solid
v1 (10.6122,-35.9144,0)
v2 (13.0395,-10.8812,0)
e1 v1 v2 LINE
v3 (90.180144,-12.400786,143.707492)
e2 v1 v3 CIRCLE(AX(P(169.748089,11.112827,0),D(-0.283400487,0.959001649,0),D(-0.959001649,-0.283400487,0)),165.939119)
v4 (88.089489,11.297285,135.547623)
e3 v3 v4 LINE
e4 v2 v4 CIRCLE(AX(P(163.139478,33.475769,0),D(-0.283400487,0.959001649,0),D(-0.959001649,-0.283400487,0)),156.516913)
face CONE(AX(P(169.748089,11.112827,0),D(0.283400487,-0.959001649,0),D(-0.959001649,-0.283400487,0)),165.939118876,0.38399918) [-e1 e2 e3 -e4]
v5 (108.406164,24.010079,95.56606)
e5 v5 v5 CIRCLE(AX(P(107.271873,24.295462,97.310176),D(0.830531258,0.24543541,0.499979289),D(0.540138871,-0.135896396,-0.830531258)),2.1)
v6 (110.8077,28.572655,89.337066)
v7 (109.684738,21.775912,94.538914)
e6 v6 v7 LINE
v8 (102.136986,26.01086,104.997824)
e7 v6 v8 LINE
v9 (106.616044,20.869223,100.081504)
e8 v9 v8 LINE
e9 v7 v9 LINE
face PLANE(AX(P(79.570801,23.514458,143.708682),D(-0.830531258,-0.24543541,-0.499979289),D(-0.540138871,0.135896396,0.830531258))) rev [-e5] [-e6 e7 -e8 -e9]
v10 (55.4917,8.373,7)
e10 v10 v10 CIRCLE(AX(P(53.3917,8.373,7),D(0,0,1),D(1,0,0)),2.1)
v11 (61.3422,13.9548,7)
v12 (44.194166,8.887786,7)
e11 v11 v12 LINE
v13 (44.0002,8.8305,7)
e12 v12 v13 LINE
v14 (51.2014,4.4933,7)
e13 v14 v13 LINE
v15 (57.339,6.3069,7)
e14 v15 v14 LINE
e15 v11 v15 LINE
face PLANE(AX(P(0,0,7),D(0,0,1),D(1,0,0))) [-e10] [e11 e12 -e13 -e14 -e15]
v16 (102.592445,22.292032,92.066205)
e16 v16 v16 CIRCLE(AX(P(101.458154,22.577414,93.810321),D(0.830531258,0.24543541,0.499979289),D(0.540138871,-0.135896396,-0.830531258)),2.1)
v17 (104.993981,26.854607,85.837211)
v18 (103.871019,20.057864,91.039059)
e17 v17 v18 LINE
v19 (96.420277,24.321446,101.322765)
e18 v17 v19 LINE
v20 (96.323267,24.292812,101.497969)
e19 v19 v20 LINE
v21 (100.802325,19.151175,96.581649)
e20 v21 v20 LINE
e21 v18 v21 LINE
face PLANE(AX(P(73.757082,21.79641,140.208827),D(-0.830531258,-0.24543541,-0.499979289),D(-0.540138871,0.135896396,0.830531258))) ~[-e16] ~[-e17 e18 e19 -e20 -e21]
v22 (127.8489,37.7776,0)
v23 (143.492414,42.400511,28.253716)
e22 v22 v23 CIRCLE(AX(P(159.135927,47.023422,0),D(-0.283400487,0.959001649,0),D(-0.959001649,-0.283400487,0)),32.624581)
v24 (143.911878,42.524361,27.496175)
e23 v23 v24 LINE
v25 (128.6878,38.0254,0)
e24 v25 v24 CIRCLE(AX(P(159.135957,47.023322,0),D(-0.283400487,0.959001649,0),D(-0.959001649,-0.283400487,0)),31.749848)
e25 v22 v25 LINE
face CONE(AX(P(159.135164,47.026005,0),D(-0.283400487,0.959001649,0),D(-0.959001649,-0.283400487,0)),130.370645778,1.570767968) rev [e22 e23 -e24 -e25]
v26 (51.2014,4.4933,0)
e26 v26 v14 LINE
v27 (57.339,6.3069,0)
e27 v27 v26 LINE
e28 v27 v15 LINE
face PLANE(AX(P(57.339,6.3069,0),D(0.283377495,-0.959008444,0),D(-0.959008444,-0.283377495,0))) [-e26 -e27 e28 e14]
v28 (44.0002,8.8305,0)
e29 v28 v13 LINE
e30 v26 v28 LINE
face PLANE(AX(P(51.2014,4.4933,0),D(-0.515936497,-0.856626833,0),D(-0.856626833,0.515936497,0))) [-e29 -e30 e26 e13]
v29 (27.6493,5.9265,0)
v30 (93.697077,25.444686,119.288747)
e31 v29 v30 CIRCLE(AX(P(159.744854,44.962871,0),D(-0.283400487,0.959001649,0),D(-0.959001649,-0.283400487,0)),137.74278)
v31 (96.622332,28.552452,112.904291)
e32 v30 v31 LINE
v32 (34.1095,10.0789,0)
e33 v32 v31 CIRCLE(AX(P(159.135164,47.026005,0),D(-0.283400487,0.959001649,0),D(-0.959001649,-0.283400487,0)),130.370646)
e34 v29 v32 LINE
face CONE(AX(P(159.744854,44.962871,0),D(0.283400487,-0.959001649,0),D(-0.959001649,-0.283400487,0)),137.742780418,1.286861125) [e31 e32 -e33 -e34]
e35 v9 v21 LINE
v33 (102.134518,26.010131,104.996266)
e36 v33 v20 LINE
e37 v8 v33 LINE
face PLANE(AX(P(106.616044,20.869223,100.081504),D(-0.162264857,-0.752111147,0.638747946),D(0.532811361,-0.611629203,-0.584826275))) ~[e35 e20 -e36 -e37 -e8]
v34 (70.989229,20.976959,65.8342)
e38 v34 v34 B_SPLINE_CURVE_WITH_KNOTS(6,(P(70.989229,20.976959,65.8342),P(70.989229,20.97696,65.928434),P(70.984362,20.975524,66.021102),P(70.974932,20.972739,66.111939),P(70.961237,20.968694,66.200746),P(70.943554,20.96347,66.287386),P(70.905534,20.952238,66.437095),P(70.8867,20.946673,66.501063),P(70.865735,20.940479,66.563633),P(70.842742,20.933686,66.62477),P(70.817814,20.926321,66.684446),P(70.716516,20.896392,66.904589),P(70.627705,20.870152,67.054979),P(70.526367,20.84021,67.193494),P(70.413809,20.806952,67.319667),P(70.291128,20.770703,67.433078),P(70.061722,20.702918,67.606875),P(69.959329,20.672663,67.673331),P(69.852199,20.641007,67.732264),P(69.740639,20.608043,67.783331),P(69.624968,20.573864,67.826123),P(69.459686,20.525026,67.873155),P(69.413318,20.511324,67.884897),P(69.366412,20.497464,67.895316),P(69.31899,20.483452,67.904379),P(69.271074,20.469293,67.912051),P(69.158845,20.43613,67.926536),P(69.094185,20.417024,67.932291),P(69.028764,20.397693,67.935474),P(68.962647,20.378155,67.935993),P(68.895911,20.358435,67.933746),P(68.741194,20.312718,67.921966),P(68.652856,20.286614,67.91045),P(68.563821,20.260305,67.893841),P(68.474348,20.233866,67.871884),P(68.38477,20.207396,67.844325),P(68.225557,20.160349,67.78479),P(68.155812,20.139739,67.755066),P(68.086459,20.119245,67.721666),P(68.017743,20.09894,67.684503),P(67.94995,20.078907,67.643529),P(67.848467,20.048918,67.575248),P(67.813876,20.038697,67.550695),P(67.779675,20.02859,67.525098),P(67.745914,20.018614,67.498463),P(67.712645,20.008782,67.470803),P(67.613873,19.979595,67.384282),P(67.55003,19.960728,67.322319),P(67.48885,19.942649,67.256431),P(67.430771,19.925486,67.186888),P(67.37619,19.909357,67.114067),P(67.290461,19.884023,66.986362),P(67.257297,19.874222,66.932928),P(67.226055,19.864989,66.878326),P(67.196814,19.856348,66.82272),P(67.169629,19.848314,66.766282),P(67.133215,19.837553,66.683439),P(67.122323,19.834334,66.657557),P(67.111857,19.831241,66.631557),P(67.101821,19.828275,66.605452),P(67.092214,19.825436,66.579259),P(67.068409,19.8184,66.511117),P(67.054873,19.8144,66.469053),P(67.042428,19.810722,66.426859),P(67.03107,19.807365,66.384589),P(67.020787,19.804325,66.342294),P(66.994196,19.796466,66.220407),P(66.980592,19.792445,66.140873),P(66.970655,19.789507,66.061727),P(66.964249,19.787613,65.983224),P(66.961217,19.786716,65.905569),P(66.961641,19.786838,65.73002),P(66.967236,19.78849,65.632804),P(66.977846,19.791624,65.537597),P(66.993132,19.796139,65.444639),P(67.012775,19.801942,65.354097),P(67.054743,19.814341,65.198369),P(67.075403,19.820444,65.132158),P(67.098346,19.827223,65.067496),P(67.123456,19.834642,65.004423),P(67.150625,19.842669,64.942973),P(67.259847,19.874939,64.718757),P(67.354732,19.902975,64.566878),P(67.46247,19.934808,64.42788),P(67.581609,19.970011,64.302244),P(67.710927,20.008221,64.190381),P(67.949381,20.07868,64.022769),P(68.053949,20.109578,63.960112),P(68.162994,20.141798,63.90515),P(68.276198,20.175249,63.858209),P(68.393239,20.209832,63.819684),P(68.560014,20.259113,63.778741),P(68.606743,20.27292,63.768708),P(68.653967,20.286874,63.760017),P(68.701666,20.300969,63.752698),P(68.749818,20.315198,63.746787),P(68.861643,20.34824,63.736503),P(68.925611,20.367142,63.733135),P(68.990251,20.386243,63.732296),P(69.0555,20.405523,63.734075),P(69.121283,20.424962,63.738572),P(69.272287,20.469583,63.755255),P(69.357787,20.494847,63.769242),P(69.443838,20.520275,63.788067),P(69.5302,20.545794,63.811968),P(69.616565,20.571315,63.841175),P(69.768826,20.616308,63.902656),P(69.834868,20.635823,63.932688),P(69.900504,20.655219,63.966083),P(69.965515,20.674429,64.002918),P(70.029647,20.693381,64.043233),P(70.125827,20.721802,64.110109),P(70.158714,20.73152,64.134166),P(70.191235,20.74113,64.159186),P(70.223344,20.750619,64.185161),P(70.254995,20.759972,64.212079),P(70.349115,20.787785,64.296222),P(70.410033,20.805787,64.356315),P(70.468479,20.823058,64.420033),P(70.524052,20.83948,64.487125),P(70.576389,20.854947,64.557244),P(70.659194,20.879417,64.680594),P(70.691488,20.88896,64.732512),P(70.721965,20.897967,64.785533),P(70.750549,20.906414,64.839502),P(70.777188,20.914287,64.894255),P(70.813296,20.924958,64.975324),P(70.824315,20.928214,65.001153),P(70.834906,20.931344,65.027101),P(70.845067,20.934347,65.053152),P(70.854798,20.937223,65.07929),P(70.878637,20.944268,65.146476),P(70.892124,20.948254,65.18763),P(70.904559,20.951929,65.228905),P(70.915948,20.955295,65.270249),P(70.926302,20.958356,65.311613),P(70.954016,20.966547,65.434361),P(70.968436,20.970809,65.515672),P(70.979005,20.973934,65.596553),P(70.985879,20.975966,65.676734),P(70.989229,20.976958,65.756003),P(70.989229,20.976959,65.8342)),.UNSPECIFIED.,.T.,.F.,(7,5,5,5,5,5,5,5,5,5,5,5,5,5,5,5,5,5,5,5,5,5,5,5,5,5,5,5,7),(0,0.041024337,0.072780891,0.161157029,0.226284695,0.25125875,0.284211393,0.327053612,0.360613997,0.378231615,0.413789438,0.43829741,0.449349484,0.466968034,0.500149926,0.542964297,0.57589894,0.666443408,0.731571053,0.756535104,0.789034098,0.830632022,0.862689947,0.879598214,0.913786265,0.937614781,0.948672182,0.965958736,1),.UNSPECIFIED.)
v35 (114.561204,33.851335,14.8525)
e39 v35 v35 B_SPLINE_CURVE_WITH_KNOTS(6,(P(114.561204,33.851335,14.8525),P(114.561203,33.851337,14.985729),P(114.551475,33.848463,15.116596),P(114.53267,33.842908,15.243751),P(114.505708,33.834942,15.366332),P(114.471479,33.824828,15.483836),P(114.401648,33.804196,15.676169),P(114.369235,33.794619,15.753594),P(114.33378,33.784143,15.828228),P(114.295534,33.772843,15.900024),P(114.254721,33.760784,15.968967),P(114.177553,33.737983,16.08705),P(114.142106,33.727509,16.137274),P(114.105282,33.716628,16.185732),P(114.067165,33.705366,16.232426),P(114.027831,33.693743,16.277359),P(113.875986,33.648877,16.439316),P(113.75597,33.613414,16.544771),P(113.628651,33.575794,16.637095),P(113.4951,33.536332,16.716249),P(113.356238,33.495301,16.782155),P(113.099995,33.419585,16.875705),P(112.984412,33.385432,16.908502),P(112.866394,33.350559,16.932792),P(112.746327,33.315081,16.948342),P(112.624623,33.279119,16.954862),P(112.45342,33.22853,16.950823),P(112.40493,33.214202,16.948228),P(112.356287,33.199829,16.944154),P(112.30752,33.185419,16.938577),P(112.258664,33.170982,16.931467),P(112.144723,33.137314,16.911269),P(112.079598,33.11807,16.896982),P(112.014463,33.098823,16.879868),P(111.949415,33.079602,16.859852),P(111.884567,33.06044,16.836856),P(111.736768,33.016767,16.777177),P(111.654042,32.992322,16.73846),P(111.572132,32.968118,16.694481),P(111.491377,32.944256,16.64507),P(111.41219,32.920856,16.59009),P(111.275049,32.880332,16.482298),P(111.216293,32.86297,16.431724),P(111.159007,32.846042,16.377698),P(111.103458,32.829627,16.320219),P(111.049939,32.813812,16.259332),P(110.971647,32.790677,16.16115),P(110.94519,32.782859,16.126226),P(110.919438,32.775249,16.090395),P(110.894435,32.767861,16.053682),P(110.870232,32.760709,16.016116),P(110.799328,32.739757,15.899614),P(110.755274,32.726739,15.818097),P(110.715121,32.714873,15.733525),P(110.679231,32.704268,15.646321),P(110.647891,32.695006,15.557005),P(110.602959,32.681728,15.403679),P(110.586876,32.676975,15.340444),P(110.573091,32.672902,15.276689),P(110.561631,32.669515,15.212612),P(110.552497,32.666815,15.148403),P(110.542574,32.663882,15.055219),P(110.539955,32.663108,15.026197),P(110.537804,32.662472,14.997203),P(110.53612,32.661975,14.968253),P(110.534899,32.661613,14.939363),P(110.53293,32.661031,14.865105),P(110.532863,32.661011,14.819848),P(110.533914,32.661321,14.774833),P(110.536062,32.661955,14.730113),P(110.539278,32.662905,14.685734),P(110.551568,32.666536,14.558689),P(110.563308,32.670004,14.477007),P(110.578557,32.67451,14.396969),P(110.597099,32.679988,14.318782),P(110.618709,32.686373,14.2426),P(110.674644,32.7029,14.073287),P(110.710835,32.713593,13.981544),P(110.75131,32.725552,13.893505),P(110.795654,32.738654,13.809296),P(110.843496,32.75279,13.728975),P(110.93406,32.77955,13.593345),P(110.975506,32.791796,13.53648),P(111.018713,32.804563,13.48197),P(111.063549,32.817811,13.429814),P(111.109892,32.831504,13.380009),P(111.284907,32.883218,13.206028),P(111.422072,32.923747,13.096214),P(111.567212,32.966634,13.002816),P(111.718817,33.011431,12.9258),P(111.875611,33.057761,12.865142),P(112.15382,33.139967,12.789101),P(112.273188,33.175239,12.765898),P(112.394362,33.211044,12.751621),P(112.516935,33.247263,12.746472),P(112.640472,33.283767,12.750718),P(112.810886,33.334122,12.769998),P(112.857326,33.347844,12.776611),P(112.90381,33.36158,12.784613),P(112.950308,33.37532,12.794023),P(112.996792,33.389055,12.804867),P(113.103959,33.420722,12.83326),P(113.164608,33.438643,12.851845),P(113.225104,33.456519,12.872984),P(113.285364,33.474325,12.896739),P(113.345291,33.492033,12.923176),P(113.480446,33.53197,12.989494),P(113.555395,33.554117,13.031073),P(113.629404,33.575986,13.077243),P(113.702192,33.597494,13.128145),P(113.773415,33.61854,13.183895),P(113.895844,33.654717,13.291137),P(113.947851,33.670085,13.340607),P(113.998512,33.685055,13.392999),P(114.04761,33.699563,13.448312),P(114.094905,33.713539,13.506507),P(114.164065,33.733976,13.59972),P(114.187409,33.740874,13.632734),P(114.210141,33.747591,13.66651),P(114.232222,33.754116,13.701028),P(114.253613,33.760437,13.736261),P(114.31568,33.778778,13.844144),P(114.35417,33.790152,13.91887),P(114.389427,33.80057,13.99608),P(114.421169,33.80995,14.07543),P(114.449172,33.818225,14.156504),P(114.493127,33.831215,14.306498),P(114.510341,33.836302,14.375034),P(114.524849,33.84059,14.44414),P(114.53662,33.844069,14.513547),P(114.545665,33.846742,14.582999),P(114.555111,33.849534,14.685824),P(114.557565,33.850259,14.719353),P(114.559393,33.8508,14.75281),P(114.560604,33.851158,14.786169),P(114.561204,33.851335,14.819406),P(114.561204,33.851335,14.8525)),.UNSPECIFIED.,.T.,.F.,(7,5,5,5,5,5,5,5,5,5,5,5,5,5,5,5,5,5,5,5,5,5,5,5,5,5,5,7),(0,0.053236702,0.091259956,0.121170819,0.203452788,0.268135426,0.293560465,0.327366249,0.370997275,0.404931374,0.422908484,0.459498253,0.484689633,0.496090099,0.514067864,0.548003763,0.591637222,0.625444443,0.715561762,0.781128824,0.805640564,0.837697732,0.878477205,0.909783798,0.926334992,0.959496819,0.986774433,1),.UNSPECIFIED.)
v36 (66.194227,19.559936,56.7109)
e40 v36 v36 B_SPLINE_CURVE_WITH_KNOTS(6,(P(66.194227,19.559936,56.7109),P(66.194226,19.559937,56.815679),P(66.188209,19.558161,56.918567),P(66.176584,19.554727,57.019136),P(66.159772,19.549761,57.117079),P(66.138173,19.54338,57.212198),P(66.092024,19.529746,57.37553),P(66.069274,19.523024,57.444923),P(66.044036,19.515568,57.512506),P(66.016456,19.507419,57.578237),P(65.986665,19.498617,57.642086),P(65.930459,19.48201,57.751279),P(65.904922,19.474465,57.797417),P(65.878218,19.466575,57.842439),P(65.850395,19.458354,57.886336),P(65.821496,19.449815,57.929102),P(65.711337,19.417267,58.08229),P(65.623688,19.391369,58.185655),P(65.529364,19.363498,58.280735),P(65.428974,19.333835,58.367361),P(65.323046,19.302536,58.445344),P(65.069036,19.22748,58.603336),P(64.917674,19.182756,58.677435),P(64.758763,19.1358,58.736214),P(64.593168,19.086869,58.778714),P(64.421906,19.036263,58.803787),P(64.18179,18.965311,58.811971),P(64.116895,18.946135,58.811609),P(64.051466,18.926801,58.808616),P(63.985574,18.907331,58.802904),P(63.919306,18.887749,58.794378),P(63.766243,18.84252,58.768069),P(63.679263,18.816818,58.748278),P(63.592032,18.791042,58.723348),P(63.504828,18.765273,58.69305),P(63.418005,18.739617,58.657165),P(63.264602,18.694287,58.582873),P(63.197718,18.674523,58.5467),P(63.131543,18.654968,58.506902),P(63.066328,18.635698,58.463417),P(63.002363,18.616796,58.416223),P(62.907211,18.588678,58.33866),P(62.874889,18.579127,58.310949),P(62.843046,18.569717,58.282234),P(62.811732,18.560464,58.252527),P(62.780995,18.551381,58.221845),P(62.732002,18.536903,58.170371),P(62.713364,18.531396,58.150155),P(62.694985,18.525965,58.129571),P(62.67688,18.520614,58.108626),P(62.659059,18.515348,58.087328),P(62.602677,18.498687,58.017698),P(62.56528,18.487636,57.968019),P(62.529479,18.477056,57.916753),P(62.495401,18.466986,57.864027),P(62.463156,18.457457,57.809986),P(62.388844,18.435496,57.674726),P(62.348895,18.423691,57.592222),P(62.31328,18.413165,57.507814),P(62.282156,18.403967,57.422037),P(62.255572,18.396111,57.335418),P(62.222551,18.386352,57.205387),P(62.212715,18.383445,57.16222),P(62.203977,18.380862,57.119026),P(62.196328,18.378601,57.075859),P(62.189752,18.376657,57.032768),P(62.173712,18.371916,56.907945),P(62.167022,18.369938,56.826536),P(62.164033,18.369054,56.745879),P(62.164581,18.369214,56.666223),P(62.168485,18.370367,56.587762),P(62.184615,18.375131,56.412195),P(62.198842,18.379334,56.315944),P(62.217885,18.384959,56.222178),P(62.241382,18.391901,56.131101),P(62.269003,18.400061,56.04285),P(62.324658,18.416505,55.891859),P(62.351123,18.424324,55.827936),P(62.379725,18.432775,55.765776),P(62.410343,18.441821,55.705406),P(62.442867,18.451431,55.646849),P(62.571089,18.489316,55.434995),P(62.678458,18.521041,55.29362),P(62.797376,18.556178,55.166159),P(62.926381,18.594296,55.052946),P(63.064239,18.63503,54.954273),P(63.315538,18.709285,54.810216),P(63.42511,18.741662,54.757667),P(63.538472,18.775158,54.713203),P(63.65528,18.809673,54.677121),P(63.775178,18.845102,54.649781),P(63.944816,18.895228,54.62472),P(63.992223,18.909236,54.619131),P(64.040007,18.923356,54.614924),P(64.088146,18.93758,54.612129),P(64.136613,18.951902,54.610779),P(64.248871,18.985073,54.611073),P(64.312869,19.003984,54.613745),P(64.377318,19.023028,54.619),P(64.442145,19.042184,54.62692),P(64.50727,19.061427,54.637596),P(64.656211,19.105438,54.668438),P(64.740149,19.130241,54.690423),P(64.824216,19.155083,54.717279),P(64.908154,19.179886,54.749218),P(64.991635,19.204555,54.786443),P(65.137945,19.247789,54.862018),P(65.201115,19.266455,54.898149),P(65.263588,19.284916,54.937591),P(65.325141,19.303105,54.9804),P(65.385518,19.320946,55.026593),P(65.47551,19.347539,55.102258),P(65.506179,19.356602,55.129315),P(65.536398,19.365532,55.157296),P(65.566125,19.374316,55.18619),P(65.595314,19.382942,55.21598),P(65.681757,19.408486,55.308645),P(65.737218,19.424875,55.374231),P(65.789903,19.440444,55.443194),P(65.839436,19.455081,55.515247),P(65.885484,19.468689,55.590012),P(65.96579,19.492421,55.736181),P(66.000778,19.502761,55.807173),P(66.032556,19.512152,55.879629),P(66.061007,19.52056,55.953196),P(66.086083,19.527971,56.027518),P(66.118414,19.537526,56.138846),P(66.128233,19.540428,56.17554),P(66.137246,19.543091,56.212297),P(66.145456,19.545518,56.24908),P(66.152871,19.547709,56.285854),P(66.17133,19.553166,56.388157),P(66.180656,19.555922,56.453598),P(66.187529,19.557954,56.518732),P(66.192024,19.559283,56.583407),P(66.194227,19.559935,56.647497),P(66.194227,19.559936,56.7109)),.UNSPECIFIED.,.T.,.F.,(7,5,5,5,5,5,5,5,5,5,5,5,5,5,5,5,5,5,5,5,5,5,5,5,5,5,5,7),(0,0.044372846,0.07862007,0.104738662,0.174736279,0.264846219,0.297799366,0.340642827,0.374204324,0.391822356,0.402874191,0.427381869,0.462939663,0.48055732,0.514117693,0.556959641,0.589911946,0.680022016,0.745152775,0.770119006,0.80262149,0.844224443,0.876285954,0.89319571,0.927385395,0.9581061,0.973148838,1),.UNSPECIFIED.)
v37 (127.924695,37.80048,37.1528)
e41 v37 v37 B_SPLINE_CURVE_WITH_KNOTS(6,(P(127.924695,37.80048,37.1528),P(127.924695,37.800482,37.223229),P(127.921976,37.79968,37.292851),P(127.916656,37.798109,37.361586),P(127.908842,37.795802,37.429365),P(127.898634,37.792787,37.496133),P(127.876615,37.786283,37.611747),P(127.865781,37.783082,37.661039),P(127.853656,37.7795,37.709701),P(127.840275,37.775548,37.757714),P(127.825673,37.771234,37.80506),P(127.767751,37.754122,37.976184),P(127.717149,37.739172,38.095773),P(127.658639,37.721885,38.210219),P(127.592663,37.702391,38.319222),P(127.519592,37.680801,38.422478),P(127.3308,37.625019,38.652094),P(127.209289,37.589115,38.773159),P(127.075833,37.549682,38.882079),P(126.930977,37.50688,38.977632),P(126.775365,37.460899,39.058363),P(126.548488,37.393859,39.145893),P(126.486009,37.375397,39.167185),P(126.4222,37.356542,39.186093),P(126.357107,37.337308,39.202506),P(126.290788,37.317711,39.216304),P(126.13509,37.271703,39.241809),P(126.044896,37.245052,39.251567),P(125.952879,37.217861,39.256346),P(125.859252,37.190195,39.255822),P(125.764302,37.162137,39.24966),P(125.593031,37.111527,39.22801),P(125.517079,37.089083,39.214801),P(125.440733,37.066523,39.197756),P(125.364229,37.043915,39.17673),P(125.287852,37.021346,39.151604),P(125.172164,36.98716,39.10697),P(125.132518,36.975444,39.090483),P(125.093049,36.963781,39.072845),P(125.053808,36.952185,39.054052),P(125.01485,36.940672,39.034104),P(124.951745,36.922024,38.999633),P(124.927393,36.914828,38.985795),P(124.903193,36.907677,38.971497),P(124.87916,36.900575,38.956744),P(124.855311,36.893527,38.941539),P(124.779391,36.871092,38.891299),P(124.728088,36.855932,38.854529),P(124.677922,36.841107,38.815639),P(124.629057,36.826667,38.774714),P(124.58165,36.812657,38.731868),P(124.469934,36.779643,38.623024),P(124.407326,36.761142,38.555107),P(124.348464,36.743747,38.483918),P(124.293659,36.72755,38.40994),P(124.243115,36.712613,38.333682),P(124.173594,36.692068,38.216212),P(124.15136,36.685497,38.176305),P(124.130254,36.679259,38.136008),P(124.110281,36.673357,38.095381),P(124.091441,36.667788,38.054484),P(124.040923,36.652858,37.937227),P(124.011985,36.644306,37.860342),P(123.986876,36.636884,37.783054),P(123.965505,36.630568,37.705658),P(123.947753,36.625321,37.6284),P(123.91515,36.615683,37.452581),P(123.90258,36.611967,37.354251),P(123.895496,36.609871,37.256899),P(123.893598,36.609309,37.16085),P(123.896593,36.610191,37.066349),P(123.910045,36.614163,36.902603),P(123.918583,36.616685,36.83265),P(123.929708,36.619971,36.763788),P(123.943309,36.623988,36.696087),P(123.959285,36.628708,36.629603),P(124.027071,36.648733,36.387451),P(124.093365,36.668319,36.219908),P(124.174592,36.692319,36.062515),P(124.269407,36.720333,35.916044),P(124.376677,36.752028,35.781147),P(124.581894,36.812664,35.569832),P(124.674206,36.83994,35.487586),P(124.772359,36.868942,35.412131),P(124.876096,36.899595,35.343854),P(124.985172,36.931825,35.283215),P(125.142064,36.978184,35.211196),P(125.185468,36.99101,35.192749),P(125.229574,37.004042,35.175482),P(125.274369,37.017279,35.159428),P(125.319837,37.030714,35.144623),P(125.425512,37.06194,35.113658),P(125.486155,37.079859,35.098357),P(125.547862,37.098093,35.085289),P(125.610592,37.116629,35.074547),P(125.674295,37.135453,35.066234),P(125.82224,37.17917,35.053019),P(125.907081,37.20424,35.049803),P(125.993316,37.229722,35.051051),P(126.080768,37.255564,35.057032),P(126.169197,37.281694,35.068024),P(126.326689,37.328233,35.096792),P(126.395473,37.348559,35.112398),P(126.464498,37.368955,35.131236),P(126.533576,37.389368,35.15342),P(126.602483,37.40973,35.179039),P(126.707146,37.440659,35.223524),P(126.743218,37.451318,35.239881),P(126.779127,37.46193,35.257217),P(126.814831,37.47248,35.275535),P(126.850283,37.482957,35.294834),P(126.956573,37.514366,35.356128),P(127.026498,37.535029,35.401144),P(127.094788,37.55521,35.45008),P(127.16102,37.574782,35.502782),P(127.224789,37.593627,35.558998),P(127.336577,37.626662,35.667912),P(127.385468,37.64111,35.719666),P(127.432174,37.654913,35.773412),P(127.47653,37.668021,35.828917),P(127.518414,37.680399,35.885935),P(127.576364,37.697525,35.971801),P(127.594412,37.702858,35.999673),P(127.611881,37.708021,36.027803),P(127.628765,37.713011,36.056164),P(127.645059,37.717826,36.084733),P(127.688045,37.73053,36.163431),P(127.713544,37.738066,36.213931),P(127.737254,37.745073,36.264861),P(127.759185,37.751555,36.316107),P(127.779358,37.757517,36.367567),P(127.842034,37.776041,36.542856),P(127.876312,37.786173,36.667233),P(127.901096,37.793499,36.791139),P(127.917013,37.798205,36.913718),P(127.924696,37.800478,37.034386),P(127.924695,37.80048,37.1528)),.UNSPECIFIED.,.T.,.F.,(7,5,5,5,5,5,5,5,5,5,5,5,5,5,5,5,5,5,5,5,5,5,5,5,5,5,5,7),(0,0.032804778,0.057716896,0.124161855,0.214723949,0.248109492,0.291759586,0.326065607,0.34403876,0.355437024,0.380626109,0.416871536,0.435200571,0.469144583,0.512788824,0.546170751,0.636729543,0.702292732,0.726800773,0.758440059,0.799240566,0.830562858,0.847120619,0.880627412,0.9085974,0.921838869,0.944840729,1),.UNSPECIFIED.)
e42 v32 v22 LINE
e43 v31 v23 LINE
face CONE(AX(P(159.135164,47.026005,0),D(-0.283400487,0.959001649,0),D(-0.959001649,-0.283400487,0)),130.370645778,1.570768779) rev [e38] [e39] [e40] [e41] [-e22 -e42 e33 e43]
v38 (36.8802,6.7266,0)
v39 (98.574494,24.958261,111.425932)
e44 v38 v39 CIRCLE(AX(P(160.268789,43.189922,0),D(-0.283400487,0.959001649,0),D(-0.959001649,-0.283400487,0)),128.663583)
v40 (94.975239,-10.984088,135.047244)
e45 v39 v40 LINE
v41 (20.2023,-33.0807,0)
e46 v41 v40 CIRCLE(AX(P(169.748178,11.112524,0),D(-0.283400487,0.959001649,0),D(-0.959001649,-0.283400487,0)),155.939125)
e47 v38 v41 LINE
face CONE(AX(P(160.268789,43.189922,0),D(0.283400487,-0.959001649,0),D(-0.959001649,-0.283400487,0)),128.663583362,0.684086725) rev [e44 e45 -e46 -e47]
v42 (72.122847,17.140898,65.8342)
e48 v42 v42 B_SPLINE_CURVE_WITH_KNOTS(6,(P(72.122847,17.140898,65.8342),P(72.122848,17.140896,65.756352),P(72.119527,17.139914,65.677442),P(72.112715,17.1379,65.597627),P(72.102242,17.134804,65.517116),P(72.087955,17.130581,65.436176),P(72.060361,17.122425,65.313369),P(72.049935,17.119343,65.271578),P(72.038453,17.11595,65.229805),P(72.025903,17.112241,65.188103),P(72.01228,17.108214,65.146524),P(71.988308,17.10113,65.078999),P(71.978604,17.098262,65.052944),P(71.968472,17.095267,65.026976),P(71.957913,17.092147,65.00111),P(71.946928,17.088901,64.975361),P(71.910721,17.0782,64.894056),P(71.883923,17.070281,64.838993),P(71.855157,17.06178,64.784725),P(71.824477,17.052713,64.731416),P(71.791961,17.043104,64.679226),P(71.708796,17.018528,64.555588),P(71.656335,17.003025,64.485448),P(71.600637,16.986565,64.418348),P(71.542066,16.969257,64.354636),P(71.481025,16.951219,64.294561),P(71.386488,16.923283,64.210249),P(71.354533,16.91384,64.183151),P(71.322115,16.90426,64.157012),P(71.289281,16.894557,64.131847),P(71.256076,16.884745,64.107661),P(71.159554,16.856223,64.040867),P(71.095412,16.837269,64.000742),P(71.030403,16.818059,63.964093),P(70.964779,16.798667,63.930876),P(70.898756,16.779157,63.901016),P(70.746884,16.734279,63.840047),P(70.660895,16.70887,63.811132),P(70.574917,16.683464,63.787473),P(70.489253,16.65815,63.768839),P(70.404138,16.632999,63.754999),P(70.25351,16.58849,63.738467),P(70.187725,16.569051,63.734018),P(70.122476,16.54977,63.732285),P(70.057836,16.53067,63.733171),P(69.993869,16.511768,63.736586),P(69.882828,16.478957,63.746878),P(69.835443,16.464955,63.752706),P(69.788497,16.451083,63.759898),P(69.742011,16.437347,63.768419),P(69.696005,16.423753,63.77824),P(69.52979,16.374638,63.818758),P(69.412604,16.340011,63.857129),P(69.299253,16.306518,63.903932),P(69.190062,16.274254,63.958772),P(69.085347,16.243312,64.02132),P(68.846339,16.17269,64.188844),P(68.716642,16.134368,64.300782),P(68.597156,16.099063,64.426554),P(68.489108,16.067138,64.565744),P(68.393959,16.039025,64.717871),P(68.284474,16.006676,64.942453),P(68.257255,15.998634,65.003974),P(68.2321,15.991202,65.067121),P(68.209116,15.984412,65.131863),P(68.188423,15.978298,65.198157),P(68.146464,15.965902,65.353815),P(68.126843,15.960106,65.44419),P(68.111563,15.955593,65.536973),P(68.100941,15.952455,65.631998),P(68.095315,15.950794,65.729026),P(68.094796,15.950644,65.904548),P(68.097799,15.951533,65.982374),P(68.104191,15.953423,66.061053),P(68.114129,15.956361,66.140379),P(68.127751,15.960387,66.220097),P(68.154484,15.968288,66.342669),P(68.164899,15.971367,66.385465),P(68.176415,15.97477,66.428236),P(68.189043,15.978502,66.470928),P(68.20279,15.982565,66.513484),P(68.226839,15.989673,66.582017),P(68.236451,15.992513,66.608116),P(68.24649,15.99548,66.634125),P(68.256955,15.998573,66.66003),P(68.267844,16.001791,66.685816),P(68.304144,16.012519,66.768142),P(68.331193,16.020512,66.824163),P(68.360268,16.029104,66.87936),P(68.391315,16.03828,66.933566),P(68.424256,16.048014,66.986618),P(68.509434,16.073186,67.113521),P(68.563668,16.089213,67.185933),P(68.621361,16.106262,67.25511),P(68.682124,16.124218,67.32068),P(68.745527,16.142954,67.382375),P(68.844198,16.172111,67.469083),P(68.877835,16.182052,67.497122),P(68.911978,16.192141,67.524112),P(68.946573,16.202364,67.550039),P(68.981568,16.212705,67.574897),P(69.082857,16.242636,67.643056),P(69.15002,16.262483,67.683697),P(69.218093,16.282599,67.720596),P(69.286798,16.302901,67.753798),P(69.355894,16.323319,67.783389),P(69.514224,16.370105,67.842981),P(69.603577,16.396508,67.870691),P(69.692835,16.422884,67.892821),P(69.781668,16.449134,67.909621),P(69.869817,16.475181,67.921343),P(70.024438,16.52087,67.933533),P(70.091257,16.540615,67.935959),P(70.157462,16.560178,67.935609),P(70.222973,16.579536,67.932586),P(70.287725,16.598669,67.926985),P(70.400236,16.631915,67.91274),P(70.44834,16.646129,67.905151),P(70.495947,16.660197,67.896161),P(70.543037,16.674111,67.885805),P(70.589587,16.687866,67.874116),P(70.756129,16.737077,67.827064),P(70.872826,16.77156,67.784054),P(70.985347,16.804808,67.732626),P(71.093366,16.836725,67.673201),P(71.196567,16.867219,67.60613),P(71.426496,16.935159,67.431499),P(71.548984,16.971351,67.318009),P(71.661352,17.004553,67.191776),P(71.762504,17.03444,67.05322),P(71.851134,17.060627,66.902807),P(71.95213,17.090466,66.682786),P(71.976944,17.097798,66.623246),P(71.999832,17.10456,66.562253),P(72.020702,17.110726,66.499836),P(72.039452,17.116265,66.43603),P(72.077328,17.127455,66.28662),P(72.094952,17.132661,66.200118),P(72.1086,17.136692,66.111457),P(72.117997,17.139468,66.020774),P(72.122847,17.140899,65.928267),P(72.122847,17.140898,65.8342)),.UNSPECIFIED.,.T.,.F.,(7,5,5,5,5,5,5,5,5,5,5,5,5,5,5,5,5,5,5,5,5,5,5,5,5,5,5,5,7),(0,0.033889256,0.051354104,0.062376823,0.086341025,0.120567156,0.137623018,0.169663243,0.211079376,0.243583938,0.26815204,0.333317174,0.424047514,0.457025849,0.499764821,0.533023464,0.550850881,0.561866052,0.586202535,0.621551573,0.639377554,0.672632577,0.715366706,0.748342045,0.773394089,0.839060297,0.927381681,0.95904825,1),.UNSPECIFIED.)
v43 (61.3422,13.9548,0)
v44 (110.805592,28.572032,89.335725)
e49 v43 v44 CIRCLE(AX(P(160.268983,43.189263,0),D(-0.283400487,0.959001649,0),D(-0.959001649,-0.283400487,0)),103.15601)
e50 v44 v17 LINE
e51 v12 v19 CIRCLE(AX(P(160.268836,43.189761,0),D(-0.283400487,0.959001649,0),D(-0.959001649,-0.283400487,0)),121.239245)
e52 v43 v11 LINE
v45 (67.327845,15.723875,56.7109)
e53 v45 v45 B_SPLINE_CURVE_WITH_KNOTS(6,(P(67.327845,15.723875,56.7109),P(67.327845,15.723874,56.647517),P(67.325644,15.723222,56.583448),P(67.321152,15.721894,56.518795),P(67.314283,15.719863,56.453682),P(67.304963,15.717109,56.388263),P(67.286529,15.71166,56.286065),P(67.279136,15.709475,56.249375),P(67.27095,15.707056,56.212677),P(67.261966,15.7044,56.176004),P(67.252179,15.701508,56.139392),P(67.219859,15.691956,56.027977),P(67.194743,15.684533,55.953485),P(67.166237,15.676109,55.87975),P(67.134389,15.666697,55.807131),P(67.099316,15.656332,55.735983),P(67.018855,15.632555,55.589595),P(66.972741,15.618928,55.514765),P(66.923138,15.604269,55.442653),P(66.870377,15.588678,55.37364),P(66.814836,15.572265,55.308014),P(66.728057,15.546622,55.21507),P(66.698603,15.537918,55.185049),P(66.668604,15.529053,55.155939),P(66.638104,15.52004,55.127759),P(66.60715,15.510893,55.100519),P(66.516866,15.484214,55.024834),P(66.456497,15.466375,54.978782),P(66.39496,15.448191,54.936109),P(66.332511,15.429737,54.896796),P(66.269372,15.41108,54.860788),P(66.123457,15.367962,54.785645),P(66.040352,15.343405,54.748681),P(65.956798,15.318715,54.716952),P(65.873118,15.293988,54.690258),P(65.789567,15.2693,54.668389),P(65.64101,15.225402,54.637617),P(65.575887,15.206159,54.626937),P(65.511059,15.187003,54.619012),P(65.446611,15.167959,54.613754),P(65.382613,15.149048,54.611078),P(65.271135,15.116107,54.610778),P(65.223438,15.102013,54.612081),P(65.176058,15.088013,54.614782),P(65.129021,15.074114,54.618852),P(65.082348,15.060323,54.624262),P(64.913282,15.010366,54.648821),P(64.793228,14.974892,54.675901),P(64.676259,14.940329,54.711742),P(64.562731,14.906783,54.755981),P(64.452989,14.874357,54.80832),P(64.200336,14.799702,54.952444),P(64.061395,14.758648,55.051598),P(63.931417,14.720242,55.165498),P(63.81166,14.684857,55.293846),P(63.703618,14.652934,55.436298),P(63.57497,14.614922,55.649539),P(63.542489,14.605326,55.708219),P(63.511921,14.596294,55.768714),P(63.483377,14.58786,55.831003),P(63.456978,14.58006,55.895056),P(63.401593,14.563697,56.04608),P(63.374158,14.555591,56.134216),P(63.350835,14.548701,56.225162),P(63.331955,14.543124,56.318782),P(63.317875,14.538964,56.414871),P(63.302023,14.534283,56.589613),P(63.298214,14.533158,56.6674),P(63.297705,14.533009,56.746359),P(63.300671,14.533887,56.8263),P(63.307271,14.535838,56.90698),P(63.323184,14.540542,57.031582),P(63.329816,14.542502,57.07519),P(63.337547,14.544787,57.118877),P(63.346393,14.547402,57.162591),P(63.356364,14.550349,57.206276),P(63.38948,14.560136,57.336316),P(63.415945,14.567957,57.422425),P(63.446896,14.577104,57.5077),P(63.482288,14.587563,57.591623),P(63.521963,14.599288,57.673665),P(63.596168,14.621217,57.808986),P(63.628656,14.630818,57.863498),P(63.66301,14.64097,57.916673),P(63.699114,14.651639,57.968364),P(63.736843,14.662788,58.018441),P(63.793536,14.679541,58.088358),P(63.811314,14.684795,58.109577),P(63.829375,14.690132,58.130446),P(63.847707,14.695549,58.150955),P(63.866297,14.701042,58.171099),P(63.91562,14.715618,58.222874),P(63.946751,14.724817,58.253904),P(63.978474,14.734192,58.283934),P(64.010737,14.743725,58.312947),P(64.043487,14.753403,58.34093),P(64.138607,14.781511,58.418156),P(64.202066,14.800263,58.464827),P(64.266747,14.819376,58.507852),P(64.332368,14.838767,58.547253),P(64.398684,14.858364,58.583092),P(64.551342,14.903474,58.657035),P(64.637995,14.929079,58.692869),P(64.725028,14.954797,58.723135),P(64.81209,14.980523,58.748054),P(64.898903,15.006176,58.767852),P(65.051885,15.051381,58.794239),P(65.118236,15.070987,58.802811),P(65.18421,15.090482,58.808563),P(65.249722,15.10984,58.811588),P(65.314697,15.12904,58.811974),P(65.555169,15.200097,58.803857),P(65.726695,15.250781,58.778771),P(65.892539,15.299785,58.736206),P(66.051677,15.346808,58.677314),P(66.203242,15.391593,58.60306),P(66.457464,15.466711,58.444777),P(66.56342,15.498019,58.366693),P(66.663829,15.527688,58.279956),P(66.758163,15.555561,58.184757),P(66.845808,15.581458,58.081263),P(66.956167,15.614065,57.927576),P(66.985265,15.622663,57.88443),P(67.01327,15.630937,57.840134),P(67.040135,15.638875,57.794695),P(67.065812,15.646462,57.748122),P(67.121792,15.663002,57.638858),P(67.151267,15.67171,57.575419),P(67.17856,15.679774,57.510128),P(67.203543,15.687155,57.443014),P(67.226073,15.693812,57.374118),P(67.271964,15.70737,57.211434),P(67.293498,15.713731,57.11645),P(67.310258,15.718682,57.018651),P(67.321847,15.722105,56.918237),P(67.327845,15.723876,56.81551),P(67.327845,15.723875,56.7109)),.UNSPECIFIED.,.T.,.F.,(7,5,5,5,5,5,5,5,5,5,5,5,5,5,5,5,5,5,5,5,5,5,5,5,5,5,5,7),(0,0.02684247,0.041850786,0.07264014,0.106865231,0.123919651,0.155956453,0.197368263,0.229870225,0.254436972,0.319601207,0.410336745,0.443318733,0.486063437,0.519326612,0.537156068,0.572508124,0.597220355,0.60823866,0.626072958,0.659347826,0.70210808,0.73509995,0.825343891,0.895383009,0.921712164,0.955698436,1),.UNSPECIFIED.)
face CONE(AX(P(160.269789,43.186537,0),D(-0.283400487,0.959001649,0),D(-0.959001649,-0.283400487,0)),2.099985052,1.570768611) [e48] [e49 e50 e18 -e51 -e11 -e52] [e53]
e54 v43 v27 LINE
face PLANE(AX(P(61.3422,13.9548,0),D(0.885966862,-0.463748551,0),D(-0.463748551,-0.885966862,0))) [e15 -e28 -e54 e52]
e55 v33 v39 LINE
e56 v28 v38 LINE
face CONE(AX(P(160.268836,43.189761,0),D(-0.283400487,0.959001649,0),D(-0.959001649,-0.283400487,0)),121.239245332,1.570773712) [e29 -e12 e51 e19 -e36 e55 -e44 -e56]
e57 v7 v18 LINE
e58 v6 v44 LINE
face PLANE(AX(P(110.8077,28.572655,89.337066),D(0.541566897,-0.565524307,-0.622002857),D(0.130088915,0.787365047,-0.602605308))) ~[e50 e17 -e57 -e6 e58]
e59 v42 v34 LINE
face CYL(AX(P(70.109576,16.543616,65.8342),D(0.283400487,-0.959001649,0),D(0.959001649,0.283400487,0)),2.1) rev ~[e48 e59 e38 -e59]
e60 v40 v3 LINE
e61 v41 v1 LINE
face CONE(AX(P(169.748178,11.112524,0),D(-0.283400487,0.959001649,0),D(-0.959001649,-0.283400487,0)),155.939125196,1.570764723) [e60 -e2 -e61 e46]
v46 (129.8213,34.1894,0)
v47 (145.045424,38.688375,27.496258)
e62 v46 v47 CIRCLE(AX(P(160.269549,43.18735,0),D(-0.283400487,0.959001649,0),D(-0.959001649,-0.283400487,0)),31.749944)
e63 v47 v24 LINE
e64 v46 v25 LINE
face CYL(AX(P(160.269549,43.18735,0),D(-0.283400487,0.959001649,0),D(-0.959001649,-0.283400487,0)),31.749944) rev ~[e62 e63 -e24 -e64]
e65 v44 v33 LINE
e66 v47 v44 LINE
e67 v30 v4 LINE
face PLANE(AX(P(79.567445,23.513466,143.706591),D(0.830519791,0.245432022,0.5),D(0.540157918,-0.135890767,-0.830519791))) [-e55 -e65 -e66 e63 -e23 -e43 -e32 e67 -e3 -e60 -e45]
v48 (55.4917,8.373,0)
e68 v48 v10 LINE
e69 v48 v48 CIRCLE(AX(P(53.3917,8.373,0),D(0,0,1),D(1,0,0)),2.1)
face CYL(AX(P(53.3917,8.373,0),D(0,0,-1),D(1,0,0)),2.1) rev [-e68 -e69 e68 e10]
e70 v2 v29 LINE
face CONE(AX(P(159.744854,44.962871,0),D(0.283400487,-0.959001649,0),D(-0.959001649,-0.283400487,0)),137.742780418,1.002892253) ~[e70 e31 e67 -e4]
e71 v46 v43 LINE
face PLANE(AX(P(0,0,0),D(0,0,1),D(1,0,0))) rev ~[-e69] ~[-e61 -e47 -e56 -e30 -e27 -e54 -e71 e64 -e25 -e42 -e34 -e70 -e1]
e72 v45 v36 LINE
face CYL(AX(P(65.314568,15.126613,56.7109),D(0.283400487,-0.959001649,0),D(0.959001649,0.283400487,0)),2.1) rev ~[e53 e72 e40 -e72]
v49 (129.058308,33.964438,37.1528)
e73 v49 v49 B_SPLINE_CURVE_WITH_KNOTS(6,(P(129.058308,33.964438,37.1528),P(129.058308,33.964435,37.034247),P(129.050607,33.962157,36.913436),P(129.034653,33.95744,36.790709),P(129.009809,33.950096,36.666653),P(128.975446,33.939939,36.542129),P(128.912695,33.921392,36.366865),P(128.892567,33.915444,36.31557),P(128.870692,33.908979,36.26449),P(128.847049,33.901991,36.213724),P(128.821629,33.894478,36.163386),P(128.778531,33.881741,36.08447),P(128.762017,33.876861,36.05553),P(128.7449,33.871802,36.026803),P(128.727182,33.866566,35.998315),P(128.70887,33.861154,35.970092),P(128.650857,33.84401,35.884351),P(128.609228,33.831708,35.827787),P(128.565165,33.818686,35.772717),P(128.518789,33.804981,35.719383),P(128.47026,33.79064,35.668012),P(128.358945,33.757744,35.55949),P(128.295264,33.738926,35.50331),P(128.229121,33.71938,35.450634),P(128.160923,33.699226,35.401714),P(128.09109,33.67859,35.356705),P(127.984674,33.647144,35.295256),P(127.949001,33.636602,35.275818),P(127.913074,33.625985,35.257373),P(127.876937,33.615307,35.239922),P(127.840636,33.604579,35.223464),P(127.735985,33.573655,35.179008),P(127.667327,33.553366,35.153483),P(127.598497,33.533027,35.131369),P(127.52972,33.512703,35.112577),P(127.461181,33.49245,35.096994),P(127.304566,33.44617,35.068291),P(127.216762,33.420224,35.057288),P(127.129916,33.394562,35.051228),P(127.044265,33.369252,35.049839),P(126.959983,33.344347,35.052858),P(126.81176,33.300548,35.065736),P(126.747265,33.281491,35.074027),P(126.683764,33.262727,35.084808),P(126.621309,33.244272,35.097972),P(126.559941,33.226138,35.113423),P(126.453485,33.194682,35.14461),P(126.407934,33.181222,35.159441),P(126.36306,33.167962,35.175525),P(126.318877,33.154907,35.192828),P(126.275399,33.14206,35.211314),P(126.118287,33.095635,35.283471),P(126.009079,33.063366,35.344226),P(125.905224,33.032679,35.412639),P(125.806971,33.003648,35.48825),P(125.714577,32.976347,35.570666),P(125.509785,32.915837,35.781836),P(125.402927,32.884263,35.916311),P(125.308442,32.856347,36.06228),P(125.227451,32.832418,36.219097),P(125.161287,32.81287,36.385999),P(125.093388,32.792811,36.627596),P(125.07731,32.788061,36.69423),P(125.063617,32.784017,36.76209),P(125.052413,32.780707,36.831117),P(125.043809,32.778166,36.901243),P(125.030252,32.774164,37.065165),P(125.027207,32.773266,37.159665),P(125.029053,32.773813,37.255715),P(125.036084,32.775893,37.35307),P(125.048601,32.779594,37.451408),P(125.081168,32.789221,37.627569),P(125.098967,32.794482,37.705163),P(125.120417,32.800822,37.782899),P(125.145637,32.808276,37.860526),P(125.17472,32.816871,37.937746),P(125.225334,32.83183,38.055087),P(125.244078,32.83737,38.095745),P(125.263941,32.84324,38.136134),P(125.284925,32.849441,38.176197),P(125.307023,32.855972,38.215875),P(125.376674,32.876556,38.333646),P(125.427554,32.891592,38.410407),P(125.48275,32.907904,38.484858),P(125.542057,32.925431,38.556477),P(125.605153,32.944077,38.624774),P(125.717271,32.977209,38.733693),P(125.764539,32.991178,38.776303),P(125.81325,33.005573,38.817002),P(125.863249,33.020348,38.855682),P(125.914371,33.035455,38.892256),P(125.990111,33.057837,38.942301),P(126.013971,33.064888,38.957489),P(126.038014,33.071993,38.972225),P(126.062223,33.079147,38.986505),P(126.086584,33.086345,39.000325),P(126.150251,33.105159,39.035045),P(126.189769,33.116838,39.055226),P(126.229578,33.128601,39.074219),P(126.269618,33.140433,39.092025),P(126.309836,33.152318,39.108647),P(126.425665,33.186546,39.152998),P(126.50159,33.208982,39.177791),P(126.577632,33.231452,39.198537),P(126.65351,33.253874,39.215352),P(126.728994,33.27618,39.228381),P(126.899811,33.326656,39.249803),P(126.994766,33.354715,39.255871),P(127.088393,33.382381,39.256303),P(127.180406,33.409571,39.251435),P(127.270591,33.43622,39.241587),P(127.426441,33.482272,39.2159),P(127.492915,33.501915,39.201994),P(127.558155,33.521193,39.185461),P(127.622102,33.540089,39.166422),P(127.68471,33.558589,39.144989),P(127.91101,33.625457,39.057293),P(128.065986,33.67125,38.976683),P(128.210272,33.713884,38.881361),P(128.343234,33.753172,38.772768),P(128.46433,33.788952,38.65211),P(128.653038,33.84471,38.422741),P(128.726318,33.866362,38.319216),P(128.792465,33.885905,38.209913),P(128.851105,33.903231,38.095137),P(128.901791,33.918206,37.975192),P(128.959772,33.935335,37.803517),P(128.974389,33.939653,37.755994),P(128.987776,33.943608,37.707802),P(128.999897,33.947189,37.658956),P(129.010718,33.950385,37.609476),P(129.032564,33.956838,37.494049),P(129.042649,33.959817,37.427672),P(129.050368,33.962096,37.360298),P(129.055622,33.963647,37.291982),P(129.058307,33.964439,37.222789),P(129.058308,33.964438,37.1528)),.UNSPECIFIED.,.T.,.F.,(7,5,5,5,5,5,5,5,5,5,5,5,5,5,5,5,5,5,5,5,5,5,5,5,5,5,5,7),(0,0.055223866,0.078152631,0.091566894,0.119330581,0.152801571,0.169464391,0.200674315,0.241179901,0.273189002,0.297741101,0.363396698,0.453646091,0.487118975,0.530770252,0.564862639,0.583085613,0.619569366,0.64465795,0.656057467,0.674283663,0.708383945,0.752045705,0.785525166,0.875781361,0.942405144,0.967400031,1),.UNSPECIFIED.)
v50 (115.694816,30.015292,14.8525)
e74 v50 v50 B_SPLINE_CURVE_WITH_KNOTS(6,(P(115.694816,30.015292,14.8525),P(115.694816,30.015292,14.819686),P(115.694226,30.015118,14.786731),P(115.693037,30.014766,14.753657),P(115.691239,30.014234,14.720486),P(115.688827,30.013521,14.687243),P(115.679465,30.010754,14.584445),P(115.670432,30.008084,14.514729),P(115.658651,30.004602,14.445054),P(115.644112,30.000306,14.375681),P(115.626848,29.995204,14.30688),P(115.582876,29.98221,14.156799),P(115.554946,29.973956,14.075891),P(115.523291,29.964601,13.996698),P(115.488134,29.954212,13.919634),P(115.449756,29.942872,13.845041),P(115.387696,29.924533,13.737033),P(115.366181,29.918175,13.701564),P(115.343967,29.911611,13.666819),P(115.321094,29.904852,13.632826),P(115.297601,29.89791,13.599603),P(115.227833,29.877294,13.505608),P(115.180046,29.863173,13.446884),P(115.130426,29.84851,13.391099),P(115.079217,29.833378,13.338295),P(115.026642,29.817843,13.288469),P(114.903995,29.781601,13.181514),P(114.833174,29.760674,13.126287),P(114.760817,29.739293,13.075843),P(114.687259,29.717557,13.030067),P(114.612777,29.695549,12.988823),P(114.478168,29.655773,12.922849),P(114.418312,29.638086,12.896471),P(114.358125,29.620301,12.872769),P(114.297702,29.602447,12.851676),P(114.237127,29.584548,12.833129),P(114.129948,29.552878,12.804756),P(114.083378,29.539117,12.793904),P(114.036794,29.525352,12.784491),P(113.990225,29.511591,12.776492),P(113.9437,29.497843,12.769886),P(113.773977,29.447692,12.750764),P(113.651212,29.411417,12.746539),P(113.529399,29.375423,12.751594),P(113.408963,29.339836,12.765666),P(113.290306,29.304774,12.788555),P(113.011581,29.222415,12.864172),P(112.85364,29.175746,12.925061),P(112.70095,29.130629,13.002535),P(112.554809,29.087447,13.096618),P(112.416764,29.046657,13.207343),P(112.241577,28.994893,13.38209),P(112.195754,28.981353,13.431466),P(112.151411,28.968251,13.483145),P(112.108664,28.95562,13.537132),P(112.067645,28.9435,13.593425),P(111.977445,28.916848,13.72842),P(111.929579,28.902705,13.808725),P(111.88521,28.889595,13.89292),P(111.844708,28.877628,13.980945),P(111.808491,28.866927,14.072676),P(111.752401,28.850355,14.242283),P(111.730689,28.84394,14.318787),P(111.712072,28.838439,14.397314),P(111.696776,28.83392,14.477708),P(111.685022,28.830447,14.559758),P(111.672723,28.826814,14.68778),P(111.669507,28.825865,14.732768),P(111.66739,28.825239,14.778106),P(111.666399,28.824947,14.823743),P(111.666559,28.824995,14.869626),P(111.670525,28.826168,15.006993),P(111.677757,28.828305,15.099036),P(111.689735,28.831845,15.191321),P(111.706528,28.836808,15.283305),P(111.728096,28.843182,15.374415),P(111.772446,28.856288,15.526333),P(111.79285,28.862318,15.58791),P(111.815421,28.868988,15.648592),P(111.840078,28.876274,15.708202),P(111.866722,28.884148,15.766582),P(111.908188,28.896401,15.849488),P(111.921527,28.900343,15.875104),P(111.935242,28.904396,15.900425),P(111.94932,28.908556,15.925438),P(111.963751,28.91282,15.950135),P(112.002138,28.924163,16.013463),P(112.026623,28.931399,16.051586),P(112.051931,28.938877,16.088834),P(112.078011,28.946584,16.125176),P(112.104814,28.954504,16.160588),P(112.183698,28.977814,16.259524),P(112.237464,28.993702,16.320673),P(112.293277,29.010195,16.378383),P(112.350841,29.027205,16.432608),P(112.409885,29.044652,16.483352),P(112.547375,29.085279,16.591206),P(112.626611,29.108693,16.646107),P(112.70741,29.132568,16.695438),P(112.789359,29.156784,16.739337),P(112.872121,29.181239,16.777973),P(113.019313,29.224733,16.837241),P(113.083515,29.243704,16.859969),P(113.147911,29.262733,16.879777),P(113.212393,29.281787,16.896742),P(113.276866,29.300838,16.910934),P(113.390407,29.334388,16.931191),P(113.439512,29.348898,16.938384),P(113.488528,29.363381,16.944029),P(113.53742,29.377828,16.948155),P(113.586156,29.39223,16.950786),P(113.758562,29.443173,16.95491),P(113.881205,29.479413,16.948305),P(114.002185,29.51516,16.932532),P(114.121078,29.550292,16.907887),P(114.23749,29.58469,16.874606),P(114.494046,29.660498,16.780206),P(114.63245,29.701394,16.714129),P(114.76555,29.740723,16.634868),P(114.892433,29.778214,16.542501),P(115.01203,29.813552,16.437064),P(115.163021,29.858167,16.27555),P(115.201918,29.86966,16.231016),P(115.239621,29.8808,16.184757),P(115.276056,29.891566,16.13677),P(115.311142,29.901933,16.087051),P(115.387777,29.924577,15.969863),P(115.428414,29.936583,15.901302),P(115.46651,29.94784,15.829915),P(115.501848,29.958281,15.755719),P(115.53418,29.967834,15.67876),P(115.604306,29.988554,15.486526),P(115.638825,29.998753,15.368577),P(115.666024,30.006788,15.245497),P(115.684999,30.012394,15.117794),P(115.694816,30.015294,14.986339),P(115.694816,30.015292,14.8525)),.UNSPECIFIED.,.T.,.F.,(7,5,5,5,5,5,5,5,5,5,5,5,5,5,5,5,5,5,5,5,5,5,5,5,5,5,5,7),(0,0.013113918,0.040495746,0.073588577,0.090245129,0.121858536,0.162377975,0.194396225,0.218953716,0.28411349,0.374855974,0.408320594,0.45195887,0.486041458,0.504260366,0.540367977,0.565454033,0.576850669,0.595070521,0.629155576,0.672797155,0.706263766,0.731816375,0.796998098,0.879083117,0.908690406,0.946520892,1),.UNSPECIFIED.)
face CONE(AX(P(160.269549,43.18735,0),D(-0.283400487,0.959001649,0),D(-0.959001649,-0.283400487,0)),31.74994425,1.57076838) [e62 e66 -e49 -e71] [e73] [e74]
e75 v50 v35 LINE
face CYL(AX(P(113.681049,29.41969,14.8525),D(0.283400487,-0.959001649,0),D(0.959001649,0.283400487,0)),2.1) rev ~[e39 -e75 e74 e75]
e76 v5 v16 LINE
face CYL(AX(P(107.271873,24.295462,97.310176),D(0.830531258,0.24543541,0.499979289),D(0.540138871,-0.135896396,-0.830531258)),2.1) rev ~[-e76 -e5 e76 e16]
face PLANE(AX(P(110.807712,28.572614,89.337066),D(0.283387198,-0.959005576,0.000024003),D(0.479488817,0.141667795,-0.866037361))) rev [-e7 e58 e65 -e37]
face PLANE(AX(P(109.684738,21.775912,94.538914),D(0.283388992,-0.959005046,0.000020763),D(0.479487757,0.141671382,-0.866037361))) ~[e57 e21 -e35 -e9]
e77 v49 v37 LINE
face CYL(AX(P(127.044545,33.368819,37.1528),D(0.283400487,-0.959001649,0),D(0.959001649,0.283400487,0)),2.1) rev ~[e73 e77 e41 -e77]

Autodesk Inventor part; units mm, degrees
ref_plane "YZ Plane" through (0, 0, 0) normal (1, 0, 0) x (0, 1, 0)
ref_plane "XZ Plane" through (0, 0, 0) normal (0, 1, 0) x (-1, 0, 0)
ref_plane "XY Plane" through (0, 0, 0) normal (0, 0, 1) x (1, 0, 0)
sketch "Sketch1" plane through (0, 0, 0) normal (0, 0, 1) x (1, 0, 0)
  circle A0 centre (53.3917, 8.373) radius 2.1 projected
  line L0 (129.8213, 34.1894) -> (128.4206, 38.9296) projected
  line L1 (127.5739, 38.7084) -> (128.4206, 38.9296) projected
  line L2 (127.8489, 37.7776) -> (127.5739, 38.7084) projected
  line L3 (34.1095, 10.0789) -> (127.8489, 37.7776) projected
  line L4 (27.6493, 5.9265) -> (34.1095, 10.0789) projected
  line L5 (27.6493, 5.9265) -> (13.0395, -10.8812) projected
  line L6 (10.6122, -35.9144) -> (13.0395, -10.8812) projected
  line L7 (20.2023, -33.0807) -> (10.6122, -35.9144) projected
  line L8 (36.8802, 6.7266) -> (20.2023, -33.0807) projected
  line L9 (44.0002, 8.8305) -> (36.8802, 6.7266) projected
  line L10 (51.2014, 4.4933) -> (44.0002, 8.8305) projected
  line L11 (57.339, 6.3069) -> (51.2014, 4.4933) projected
  line L12 (61.3422, 13.9548) -> (57.339, 6.3069) projected
  line L13 (129.8213, 34.1894) -> (61.3422, 13.9548) projected
  line L14 (158.2559, 42.5914) -> (18.4899, 1.2925) projected
  line L15 (34.1095, 10.0789) -> (128.6878, 38.0254)
  line L16 (160.2698, 43.1865) -> (155.9107, 57.9387)
  point P0 (0, 0)
revolve "Revolution1" add sketch "Sketch1" angle 60 about axis through (160.2698, 43.1865, 0) along (-0.2834, 0.959, 0) contours L13 L14 L9 L5 L4 L3 L15 L0 | L8 L7 L6 L5 L14
ref_plane "Work Plane1" through (0, 0, 0) normal (0, 0, 1) x (1, 0, 0)
sketch "Sketch2" plane through (0, 0, 0) normal (0, 0, 1) x (1, 0, 0)
  circle A0 centre (53.3917, 8.373) radius 2.1 projected
  line L0 (129.8213, 34.1894) -> (128.4206, 38.9296) projected
  line L1 (127.5739, 38.7084) -> (128.4206, 38.9296) projected
  line L2 (127.8489, 37.7776) -> (127.5739, 38.7084) projected
  line L3 (34.1095, 10.0789) -> (127.8489, 37.7776) projected
  line L4 (27.6493, 5.9265) -> (34.1095, 10.0789) projected
  line L5 (27.6493, 5.9265) -> (13.0395, -10.8812) projected
  line L6 (10.6122, -35.9144) -> (13.0395, -10.8812) projected
  line L7 (20.2023, -33.0807) -> (10.6122, -35.9144) projected
  line L8 (36.8802, 6.7266) -> (20.2023, -33.0807) projected
  line L9 (44.0002, 8.8305) -> (36.8802, 6.7266) projected
  line L10 (51.2014, 4.4933) -> (44.0002, 8.8305) projected
  line L11 (57.339, 6.3069) -> (51.2014, 4.4933) projected
  line L12 (61.3422, 13.9548) -> (57.339, 6.3069) projected
  line L13 (129.8213, 34.1894) -> (61.3422, 13.9548) projected
  line L14 (158.2559, 42.5914) -> (18.4899, 1.2925) projected
  point P0 (0, 0)
extrude "Extrusion1" add sketch "Sketch2" along normal blind 7 contours L12 L11 L10 L14
sketch "Sketch3" plane through (61.3422, 13.9548, 0) normal (0.2834, -0.959, 0) x (0.959, 0.2834, 0)
  circle A0 centre (4.1416, 56.7109) radius 2.1
  circle A1 centre (9.1416, 65.8342) radius 2.1
  circle A2 centre (68.5106, 37.1528) radius 2.1 projected
  circle A3 centre (54.5758, 14.8525) radius 2.1 projected
  point P0 (-62.7821, 0)
  dimension "d3" = 4.2
  dimension "d4" = 4.2
  dimension "d5" = 5
extrude "Extrusion2" cut sketch "Sketch3" against normal blind 7
ref_plane "Work Plane2" through (159.1363, 47.0226, 0) normal (0.4795, 0.1417, 0.866) x (0.2834, -0.959, 0)
mirror "Mirror1" about plane through (159.1363, 47.0226, 0) normal (0.4795, 0.1417, 0.866) of "Extrusion1"
properties part number "Head_BottomRight"
